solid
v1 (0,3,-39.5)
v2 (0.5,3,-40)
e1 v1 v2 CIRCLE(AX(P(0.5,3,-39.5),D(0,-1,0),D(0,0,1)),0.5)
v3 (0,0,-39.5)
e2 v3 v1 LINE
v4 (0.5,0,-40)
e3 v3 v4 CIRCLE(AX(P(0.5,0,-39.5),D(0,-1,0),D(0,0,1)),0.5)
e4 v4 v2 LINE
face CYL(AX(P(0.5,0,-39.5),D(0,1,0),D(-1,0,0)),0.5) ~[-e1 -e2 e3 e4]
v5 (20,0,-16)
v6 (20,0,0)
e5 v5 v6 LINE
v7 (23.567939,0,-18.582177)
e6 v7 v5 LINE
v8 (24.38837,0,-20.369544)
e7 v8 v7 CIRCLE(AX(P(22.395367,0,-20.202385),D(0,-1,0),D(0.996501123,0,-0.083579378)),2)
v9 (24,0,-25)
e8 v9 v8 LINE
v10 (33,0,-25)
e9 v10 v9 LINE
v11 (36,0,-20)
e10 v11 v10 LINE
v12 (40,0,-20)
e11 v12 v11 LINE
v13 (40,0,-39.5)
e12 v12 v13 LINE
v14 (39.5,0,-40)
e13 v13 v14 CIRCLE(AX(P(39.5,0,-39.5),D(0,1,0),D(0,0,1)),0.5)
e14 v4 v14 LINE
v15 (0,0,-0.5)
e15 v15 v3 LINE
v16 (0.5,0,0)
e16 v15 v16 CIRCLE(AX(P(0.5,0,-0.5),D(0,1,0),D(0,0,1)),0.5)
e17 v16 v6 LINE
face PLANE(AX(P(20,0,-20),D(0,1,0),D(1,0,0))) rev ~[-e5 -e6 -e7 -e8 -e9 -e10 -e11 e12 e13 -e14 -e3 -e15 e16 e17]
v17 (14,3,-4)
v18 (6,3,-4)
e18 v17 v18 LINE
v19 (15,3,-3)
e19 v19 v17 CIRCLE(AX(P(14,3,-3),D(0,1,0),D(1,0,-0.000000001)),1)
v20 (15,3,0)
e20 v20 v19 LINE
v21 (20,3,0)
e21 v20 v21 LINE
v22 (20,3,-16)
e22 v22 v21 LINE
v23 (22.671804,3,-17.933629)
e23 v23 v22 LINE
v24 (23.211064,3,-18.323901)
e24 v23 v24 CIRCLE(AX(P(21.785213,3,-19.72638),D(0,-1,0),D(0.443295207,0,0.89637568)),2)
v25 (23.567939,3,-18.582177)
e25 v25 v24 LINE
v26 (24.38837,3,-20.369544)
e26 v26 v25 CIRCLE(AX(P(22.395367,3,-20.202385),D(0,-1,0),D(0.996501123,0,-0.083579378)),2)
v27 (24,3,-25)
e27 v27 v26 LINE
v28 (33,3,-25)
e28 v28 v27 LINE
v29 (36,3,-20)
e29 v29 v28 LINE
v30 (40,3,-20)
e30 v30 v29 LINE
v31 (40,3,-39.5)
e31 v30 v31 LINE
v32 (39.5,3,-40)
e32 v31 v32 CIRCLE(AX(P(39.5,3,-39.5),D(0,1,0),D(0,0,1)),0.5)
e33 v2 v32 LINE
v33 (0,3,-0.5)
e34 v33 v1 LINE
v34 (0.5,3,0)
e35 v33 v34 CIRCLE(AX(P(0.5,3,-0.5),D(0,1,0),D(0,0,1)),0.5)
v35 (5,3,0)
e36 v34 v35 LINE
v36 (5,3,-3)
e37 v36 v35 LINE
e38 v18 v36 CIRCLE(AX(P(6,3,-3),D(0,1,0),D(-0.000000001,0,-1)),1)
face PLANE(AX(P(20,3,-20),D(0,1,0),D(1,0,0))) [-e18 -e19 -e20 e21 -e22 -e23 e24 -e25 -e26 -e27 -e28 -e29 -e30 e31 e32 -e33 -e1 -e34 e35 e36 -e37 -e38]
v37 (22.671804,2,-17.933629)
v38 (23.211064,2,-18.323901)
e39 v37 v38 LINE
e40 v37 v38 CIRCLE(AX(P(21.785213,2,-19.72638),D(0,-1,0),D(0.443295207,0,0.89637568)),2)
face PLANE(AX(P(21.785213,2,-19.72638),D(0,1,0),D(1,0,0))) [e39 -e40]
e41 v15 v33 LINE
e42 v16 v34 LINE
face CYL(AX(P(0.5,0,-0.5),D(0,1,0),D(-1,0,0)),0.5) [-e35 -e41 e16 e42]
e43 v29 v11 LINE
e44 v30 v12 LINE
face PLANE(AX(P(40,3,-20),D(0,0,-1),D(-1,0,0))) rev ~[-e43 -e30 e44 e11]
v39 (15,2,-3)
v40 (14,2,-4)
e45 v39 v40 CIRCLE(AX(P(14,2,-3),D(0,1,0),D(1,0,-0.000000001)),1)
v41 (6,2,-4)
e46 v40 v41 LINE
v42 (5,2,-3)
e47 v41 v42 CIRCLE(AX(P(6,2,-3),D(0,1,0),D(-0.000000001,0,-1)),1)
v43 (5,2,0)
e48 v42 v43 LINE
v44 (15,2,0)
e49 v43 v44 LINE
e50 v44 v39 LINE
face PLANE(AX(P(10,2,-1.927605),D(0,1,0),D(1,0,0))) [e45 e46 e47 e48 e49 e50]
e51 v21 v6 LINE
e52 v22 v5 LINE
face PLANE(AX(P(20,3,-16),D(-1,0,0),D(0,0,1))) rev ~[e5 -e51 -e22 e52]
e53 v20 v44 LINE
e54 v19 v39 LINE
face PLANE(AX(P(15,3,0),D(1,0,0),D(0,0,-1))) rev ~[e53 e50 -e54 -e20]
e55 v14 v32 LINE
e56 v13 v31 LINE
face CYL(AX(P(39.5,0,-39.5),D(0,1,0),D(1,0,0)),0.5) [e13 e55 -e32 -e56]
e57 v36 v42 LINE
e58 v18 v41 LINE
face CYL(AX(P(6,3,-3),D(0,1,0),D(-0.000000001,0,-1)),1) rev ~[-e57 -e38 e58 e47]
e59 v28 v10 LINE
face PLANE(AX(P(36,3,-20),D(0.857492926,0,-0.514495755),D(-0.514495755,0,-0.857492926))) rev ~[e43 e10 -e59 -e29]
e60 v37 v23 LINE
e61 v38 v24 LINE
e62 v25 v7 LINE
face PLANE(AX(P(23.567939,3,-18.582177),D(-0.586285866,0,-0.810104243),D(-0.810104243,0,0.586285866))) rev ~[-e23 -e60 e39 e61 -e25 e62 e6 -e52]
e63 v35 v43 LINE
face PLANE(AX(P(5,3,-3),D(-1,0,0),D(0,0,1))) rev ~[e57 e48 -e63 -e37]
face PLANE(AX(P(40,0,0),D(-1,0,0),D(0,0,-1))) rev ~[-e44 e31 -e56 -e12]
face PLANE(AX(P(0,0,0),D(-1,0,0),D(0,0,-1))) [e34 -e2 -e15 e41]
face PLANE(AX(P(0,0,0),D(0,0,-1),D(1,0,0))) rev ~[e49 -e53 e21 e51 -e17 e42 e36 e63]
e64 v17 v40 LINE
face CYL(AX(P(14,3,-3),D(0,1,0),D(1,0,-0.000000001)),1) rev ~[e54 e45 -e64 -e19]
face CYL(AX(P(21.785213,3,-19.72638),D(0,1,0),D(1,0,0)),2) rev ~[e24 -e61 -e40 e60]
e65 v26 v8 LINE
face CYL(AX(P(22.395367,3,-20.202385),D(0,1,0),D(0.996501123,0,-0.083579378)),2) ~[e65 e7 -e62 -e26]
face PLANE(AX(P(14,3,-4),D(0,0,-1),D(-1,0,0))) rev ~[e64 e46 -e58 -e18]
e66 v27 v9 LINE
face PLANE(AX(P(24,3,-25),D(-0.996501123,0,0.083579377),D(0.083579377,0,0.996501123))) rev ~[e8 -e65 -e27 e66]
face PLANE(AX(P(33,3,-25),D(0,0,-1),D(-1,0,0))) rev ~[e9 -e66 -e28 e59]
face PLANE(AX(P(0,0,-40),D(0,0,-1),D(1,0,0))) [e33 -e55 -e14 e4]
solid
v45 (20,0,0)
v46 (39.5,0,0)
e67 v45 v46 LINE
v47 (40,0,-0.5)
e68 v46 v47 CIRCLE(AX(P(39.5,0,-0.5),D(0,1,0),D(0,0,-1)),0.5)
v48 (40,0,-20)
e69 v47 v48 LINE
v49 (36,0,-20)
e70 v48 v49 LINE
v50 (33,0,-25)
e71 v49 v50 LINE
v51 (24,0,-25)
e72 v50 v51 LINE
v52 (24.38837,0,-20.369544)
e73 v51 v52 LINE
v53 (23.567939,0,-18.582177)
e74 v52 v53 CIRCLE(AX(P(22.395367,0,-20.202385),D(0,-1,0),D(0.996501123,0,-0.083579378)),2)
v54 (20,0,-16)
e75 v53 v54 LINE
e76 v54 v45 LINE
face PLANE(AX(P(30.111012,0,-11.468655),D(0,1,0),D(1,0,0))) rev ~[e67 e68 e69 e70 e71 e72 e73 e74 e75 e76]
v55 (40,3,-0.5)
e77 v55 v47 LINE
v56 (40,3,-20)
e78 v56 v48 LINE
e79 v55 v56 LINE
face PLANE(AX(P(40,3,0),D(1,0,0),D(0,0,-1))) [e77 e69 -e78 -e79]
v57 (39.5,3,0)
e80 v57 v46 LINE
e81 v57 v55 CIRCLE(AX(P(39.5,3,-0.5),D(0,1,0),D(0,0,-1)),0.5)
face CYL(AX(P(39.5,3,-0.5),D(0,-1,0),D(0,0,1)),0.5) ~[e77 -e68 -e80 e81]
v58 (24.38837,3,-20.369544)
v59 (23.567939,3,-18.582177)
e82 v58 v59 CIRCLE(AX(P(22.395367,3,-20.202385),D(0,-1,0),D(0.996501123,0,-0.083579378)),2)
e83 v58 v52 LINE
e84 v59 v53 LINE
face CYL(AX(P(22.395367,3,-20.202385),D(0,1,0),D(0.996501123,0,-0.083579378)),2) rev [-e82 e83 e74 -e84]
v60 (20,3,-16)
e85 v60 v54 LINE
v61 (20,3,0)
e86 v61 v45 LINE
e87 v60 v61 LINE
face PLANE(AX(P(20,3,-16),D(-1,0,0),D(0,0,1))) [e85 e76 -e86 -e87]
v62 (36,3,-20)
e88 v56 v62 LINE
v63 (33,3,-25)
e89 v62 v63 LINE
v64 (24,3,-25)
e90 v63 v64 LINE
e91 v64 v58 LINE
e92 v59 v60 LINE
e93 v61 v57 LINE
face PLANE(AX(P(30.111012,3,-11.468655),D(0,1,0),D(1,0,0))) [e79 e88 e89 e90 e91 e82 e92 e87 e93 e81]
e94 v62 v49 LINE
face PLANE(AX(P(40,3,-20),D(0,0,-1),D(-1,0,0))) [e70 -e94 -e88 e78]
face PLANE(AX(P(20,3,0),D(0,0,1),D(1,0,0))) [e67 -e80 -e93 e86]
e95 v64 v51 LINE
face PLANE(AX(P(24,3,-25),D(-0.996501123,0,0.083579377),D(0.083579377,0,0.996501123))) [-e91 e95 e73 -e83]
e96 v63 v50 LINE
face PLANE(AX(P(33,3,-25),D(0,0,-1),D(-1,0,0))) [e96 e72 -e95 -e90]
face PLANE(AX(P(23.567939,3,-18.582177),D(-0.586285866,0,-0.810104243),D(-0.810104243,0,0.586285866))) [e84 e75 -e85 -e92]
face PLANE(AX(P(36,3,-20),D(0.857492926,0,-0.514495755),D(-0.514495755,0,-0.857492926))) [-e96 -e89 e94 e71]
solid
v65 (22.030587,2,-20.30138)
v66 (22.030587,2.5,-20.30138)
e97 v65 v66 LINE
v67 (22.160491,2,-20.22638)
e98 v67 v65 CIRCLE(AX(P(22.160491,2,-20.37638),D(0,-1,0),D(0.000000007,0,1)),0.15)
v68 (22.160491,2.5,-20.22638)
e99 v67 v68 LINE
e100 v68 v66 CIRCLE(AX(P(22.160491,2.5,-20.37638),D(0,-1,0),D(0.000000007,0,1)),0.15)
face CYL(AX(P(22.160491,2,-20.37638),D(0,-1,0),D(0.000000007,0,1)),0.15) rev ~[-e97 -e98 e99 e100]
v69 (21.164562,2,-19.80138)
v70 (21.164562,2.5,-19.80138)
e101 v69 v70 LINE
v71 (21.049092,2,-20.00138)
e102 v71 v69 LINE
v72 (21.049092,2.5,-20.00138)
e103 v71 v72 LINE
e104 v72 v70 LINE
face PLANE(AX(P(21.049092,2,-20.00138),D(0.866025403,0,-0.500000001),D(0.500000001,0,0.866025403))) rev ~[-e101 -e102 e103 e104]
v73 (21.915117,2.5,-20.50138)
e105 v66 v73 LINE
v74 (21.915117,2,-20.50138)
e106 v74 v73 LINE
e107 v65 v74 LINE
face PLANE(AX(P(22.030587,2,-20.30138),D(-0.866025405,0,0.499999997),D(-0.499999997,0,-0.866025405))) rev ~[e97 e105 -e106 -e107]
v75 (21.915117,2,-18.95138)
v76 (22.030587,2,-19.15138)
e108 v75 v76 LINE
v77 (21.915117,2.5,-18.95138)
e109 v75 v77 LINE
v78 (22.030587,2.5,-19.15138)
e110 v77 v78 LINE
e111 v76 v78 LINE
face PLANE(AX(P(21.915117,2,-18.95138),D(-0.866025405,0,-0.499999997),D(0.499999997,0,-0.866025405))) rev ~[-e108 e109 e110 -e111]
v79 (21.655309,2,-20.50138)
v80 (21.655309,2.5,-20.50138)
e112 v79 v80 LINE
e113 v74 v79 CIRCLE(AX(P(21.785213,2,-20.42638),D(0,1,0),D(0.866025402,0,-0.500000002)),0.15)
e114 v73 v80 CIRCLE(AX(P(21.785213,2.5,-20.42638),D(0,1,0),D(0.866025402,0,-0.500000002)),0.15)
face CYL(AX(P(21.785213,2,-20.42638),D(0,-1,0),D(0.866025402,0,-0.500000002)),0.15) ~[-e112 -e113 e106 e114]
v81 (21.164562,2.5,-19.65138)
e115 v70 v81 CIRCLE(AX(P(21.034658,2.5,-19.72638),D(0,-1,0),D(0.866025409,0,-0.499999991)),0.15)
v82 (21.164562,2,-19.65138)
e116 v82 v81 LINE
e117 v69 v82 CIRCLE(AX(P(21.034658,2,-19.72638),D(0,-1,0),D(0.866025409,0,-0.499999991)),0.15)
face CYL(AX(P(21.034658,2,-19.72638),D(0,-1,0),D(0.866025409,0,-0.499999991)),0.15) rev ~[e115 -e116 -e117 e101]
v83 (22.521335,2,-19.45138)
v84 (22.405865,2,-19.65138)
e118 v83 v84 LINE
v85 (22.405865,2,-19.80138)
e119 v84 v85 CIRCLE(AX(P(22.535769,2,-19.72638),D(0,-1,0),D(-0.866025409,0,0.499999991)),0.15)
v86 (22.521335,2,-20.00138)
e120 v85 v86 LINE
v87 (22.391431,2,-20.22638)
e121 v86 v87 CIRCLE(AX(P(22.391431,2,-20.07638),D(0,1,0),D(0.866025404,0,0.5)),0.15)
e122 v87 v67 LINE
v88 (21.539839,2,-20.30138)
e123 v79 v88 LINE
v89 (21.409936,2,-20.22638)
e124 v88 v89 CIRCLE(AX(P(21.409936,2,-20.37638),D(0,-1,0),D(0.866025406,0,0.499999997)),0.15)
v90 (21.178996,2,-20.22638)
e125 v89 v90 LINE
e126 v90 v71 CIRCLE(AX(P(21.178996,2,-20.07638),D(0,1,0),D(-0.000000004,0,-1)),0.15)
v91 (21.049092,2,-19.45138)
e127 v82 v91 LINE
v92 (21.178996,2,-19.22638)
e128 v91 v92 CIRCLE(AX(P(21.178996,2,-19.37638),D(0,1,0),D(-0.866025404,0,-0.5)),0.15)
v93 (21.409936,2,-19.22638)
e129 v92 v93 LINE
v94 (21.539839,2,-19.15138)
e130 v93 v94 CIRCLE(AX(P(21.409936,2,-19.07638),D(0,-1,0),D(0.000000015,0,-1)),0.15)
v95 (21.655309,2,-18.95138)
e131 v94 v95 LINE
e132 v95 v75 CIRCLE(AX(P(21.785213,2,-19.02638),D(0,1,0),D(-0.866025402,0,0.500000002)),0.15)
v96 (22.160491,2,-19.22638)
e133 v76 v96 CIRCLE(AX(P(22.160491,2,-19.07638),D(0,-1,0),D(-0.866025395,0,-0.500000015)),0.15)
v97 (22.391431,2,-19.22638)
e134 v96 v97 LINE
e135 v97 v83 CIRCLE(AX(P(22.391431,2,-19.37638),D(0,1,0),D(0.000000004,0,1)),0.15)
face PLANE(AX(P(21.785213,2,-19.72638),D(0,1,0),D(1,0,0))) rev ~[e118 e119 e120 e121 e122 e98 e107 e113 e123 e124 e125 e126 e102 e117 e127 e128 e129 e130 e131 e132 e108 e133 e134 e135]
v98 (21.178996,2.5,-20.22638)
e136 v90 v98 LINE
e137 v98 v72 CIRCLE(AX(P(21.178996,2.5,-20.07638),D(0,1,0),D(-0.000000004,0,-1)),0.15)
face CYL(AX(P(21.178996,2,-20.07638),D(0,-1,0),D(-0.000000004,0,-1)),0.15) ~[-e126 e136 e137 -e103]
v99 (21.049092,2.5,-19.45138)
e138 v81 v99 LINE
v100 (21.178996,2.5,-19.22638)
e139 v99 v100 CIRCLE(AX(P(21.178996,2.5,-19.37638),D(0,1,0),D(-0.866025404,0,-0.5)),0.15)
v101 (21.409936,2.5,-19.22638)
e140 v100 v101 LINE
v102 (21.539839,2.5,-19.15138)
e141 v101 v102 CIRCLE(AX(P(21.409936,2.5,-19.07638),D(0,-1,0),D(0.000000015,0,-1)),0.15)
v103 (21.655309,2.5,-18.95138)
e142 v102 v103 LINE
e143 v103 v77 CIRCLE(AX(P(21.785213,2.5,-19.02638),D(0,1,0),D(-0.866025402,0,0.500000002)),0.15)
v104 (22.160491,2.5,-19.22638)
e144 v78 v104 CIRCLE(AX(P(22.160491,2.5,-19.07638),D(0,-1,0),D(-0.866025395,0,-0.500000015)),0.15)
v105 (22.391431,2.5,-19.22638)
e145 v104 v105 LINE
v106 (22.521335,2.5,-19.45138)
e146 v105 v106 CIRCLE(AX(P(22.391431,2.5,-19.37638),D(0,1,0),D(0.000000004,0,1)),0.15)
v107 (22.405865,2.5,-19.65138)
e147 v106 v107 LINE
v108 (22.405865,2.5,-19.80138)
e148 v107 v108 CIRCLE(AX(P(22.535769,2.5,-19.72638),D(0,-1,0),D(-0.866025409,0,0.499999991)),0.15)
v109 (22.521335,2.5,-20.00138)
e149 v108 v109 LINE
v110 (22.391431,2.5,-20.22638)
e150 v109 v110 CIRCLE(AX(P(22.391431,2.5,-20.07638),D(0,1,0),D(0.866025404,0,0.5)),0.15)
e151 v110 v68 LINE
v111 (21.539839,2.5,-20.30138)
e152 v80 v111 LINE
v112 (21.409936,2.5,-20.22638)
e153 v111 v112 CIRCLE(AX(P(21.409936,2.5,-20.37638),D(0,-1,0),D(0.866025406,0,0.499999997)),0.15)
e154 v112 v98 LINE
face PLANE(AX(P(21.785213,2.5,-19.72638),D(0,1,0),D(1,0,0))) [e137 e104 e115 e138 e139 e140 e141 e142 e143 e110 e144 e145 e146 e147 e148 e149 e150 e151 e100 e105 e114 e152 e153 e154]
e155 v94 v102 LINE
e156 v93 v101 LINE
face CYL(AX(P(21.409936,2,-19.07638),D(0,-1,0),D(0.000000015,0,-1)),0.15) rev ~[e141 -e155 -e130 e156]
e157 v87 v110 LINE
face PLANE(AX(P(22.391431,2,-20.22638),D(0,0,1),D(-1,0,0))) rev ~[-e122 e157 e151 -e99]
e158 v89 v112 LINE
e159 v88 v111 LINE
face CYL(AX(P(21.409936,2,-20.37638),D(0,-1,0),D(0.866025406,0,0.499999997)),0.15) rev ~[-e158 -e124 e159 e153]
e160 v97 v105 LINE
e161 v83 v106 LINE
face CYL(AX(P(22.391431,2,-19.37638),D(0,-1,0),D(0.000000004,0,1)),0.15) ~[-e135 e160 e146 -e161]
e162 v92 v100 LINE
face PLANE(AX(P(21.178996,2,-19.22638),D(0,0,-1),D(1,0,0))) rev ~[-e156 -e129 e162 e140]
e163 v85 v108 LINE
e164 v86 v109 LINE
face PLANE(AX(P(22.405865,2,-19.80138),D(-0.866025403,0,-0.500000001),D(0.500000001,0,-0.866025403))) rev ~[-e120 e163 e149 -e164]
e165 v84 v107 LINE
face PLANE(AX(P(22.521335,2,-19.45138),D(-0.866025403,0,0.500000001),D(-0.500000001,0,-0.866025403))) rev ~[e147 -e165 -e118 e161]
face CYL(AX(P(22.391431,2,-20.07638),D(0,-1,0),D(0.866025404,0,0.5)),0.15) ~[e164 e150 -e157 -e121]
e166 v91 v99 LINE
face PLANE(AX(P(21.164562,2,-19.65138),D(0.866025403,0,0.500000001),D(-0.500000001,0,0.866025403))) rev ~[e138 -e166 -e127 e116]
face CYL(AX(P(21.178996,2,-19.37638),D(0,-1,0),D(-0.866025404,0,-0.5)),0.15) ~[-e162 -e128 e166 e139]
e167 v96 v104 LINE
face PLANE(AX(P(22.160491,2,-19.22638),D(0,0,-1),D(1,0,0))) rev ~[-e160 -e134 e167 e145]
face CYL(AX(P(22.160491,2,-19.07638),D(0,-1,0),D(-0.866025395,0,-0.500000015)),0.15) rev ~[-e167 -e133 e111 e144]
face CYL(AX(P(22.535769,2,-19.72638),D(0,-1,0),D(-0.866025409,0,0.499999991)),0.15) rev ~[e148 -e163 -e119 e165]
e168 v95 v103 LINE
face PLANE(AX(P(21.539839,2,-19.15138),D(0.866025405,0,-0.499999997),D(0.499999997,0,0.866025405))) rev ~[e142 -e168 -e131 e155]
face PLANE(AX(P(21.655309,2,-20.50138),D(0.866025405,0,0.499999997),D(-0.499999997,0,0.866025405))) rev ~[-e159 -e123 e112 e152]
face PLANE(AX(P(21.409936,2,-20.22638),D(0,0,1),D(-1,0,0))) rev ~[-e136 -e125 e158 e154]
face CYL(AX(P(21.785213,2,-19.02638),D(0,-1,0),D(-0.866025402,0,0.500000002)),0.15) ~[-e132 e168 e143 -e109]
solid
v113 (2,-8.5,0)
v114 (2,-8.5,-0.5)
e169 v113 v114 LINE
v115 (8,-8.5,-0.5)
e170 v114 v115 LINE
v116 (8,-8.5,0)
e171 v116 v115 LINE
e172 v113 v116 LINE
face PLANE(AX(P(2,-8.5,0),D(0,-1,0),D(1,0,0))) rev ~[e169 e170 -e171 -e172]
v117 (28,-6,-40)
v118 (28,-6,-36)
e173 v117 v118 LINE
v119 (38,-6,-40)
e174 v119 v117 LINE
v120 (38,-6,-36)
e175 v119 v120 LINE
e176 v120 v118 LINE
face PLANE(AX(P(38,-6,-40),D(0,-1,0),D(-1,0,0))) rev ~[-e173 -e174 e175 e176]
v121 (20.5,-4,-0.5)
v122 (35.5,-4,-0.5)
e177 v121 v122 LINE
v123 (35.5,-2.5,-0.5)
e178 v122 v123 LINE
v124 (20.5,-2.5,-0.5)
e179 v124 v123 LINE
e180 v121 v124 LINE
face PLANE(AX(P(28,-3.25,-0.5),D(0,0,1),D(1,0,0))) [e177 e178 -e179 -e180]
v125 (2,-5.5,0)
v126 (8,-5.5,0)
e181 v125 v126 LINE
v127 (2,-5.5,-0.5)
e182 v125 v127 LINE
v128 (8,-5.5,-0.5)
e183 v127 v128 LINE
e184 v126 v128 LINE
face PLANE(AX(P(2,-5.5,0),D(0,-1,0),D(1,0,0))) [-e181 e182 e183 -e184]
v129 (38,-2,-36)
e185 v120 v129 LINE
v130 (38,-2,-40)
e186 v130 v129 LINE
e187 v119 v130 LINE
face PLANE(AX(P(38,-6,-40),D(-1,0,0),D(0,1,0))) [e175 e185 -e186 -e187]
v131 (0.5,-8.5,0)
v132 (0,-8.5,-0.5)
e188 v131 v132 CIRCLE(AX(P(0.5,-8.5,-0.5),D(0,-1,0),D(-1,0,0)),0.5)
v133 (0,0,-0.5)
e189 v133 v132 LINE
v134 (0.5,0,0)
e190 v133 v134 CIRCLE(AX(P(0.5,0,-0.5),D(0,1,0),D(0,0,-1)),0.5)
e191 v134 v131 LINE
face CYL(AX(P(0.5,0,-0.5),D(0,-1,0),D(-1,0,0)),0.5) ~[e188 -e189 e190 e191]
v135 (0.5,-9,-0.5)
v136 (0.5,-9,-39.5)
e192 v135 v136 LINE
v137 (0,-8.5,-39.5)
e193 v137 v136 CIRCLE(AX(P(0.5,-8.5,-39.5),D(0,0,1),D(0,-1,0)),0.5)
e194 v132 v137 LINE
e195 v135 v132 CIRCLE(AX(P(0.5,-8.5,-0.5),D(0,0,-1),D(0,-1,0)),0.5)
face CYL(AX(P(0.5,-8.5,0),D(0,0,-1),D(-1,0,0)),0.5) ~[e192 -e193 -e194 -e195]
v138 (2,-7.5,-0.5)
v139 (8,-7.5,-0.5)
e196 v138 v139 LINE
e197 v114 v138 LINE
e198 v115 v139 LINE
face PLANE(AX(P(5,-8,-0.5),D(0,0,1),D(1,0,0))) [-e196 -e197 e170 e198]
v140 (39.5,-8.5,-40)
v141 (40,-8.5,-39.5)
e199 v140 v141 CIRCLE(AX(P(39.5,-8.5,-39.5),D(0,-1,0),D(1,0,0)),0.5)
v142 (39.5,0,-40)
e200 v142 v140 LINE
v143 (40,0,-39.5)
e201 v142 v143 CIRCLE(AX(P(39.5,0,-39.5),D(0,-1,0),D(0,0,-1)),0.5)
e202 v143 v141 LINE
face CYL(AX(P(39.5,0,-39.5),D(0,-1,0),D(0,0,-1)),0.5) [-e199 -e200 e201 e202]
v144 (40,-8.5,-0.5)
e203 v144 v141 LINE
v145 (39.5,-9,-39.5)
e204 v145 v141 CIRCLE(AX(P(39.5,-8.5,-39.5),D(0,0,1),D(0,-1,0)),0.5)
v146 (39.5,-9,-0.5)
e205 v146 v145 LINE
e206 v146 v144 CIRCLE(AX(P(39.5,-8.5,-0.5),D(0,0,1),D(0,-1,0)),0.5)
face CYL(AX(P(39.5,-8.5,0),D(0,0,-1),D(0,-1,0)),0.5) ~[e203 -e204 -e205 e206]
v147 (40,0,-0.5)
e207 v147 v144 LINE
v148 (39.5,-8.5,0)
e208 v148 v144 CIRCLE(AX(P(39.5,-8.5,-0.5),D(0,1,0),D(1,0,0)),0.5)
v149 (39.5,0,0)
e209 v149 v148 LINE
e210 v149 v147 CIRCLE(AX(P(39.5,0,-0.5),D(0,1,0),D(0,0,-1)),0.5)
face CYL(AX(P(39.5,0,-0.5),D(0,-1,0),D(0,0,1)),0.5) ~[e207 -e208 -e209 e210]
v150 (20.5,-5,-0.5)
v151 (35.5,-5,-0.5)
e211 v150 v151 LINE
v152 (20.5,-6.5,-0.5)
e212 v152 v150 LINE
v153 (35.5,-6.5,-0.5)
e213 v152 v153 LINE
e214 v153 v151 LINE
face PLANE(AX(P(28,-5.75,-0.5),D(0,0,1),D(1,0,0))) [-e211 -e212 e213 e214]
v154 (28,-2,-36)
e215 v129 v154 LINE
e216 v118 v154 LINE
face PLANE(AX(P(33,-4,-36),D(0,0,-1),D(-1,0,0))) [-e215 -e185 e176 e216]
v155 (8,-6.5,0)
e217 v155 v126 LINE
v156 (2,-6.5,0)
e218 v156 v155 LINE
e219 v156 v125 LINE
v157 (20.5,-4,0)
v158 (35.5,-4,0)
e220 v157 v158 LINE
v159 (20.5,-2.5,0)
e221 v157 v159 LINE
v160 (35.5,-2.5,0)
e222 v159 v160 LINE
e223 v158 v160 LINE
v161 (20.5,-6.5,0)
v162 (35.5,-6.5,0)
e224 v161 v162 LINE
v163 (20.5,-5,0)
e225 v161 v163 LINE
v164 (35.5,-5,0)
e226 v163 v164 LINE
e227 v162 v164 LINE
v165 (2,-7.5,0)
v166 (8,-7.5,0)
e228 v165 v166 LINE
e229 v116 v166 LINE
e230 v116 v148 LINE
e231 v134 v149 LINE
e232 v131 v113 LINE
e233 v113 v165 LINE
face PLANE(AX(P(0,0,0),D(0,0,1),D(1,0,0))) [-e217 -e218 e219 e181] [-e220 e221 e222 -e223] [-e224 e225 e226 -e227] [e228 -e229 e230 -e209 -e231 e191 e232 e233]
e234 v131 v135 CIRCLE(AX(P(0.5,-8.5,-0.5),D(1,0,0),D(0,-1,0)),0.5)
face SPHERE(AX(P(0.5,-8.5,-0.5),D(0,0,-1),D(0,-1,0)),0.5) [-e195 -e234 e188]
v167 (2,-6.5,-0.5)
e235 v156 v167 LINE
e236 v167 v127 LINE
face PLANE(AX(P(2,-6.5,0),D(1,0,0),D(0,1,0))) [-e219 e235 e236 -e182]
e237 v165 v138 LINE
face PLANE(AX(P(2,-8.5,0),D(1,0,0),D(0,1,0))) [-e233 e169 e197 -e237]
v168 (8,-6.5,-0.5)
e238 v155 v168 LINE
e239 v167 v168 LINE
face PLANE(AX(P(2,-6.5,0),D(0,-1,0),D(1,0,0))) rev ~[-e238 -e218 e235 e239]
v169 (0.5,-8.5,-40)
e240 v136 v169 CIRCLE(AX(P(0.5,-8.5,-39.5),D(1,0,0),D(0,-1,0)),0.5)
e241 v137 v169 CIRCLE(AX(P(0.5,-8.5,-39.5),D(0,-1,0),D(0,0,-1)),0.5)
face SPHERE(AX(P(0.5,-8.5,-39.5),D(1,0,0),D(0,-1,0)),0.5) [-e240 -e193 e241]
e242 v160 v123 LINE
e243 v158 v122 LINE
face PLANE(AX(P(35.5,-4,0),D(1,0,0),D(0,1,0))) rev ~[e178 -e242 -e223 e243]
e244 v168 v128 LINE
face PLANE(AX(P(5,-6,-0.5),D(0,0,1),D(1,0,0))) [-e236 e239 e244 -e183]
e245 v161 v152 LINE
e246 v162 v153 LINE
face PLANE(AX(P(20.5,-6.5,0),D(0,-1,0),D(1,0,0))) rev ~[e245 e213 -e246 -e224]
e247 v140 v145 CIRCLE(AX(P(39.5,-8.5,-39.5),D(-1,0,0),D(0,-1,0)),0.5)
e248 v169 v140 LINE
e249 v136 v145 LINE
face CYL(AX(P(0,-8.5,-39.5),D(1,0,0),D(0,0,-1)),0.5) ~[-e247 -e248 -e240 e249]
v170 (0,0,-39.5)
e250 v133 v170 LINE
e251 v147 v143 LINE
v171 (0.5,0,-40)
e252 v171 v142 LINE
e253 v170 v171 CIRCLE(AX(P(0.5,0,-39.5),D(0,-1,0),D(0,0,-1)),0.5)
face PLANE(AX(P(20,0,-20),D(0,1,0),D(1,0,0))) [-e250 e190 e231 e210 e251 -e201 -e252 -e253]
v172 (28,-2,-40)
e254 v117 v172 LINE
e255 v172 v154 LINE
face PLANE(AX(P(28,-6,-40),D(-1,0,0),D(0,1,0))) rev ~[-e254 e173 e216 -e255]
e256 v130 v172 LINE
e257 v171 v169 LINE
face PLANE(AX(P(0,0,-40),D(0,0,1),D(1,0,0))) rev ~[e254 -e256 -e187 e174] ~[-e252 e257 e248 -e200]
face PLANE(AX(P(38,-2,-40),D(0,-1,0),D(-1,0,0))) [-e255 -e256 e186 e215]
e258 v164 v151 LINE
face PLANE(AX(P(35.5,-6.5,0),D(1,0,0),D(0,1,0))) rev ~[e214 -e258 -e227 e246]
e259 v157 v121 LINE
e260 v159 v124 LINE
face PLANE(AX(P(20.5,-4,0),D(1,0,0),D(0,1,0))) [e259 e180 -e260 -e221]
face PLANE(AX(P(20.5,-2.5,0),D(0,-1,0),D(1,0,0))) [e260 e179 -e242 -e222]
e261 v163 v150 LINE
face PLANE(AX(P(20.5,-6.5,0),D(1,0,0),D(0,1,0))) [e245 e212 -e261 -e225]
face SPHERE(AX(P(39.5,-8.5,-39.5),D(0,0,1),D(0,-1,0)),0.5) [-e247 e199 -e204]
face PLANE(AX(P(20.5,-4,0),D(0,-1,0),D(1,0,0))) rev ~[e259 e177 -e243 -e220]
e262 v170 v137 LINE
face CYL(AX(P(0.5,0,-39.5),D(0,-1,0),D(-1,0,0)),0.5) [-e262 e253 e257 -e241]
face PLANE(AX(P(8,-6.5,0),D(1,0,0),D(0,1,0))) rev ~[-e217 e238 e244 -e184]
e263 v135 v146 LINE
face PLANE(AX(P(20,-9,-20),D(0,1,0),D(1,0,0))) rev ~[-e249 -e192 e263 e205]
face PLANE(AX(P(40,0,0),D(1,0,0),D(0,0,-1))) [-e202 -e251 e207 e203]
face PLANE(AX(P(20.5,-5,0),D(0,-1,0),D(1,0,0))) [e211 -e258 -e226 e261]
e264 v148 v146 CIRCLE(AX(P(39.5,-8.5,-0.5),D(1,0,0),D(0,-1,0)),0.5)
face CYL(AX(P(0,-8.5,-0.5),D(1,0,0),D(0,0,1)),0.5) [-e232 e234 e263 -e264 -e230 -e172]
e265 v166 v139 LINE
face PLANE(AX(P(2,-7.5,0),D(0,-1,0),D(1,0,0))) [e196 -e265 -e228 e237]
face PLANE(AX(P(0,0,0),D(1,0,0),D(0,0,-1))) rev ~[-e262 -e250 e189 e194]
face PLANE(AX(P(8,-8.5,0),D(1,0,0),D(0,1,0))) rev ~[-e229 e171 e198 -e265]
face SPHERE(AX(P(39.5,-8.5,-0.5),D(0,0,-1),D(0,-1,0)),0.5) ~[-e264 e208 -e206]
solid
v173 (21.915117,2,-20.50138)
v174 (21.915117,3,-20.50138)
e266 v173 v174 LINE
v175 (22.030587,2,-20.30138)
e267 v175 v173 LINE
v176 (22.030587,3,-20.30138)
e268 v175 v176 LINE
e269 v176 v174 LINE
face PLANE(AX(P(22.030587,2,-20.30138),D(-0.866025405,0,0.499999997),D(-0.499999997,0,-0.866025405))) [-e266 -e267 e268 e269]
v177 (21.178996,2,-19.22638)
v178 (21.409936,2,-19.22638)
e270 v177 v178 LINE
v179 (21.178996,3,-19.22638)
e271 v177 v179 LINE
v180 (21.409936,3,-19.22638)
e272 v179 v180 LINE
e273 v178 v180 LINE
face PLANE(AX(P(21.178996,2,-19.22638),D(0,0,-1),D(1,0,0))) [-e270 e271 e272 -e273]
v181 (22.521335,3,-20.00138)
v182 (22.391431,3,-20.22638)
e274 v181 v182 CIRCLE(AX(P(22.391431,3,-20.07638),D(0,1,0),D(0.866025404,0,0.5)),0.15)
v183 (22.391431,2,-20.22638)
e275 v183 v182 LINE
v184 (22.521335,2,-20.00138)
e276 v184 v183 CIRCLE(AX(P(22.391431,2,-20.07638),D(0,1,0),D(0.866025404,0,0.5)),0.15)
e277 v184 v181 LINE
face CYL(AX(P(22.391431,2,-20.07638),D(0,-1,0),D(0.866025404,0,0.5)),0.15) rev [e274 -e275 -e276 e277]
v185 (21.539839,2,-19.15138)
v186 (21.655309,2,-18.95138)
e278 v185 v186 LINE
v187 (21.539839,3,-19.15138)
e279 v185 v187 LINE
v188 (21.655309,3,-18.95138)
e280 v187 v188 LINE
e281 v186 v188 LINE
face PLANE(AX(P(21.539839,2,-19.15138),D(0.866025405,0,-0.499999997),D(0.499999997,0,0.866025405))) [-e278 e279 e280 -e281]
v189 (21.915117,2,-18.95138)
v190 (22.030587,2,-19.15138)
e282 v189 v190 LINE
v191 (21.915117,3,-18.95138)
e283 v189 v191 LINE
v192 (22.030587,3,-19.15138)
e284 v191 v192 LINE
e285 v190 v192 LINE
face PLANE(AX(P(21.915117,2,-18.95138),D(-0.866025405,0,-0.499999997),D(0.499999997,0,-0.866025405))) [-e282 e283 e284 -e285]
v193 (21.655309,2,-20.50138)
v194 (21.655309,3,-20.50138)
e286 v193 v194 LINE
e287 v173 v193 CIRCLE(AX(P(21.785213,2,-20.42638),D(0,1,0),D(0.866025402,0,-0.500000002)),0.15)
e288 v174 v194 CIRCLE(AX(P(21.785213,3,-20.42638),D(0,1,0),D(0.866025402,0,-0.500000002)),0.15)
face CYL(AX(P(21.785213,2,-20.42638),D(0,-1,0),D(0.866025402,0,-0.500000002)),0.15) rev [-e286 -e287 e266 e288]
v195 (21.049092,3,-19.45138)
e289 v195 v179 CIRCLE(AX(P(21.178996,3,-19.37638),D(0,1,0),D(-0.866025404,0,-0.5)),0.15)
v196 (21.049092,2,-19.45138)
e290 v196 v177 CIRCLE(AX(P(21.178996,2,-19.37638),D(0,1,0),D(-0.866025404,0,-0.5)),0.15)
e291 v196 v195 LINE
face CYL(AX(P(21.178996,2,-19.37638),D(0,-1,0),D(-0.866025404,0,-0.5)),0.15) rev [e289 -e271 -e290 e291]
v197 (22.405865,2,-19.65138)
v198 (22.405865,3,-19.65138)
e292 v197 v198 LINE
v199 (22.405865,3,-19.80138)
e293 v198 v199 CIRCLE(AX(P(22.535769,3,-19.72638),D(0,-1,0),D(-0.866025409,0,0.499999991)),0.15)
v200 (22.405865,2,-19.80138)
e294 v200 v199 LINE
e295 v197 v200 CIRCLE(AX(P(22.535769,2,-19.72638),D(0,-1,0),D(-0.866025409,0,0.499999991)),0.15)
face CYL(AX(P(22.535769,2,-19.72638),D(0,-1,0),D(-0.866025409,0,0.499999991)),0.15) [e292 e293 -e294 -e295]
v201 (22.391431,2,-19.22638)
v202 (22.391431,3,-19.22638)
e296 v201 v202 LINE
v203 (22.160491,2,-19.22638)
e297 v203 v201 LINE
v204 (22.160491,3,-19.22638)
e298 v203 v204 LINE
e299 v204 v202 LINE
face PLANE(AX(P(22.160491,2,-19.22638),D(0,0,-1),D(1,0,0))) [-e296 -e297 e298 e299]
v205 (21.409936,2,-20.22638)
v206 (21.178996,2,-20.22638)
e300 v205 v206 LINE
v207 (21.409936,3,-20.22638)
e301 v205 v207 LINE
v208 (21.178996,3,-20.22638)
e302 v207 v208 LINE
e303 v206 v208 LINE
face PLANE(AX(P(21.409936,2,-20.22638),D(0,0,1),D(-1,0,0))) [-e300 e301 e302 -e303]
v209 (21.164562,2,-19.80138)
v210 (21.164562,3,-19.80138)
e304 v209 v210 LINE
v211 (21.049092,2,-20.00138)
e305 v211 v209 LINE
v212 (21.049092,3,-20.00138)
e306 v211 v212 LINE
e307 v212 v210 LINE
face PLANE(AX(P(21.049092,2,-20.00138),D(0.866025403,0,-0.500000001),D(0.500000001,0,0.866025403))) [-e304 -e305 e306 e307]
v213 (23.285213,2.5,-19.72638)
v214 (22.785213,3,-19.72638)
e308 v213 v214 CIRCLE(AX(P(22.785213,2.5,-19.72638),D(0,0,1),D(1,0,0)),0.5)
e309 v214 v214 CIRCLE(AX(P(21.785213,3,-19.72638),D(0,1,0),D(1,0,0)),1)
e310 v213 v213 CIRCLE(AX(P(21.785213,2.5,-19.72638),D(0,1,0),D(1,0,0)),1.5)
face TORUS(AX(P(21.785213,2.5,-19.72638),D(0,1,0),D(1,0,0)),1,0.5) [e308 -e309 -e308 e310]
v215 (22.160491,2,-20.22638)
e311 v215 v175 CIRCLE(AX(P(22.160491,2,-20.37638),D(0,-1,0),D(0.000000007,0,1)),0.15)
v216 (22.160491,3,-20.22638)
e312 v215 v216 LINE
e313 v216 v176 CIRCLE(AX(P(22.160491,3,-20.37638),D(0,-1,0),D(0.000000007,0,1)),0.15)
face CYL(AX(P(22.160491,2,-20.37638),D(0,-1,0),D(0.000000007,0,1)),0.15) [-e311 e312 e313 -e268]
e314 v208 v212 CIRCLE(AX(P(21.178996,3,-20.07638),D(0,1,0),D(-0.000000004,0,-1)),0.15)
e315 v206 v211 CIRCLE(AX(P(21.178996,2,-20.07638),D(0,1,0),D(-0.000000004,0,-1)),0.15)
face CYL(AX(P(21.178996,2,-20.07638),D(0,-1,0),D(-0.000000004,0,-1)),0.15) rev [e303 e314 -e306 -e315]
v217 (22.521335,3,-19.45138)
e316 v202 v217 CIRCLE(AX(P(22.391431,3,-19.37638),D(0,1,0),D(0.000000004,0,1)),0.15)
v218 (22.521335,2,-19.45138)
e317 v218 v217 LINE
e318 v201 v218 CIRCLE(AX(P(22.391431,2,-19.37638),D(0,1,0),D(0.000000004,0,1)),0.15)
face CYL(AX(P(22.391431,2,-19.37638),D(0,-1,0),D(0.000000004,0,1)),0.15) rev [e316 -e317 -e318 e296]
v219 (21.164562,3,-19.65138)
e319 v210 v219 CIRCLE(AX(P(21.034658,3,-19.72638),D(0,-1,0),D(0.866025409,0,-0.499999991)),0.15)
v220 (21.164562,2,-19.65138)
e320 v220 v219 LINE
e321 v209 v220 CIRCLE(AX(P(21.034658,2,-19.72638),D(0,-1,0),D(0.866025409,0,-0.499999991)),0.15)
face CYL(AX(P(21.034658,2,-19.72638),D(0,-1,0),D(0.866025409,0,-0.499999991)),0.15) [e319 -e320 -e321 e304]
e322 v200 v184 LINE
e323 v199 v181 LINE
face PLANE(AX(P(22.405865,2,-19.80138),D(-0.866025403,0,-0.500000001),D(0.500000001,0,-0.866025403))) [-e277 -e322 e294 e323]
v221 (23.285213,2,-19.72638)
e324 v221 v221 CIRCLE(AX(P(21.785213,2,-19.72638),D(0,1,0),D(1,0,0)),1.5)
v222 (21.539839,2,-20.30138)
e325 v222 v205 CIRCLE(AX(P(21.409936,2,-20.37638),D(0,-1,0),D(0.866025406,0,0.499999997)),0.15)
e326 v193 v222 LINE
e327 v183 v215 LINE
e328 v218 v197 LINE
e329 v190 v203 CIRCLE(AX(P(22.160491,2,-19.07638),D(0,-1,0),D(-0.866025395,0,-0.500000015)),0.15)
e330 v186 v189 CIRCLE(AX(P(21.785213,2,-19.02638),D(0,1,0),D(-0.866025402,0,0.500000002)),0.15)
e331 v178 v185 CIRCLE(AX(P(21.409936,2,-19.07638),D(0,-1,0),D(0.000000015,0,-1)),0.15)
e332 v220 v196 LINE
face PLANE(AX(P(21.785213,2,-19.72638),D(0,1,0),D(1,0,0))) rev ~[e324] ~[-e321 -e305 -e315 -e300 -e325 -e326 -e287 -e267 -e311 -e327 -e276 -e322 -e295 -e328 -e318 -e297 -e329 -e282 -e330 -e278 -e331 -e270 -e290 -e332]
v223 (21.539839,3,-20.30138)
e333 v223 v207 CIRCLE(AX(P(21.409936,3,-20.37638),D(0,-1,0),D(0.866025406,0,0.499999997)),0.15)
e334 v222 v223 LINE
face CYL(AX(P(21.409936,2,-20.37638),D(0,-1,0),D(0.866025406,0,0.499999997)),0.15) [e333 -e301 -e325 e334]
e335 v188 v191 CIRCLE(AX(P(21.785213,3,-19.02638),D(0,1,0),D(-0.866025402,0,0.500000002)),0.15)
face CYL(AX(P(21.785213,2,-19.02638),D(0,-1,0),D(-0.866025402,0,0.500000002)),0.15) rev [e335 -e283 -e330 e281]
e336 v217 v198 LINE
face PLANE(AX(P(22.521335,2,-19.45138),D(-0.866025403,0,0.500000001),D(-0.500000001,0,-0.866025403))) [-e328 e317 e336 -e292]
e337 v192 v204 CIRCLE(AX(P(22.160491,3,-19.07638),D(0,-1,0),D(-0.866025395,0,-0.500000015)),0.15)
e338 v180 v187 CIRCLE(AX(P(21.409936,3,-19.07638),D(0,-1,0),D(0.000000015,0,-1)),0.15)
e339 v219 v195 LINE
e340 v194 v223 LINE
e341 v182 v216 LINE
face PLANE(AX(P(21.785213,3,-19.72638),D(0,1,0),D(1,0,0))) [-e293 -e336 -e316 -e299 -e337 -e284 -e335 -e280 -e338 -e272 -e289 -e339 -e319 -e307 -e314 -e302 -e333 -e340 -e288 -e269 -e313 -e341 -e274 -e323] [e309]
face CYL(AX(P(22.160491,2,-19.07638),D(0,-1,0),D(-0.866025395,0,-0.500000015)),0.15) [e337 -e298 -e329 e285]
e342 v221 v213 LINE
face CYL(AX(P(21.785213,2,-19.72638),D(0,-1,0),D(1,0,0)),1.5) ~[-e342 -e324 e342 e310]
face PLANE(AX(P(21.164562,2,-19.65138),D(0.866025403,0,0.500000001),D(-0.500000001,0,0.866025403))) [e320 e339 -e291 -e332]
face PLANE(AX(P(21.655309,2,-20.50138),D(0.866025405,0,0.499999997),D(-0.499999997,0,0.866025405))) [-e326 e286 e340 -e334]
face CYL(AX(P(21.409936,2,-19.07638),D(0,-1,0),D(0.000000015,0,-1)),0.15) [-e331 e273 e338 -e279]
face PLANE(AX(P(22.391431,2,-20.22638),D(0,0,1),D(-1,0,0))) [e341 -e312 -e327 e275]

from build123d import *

# Parameters (mm, degrees)
SKETCH1_W           = 40
SKETCH1_H           = 40
BOSS_EXTRUDE1_DEPTH = 9
SKETCH1_2_W         = 40
SKETCH1_2_H         = 40
BOSS_EXTRUDE2_DEPTH = 3
SKETCH2_W           = 10
SKETCH2_H           = 4
CUT_EXTRUDE1_DEPTH  = 4
CUT_EXTRUDE3_DEPTH  = 3
BOSS_EXTRUDE4_DEPTH = 3
SKETCH4_R           = 2
CUT_EXTRUDE4_DEPTH  = 1
SKETCH5_R           = 1.5
BOSS_EXTRUDE6_DEPTH = 1
BOSS_EXTRUDE7_DEPTH = 0.5
FILLET1_R           = 0.5
FILLET2_R           = 0.5
FILLET3_R           = 0.5
FILLET4_R           = 0.5
SKETCH6_W           = 6
SKETCH6_H           = 1
SKETCH6_W_2         = 15
SKETCH6_H_2         = 1.5
CUT_EXTRUDE5_DEPTH  = 0.5


with BuildPart() as part:
    # Sketch1 → Boss-Extrude1 (new body)
    with BuildSketch(Plane(origin=(0, 0, 0), x_dir=(1, 0, 0), z_dir=(0, 1, 0))):
        with Locations((20, 20)):
            Rectangle(SKETCH1_W, SKETCH1_H)
    extrude(amount=-BOSS_EXTRUDE1_DEPTH)

    # Sketch2 → Cut-Extrude1 (cut)
    with BuildSketch(Plane(origin=(0, 0, -40), x_dir=(-1, 0, 0), z_dir=(0, 0, -1))):
        with Locations((-33, -4)):
            Rectangle(SKETCH2_W, SKETCH2_H)
    extrude(amount=-CUT_EXTRUDE1_DEPTH, mode=Mode.SUBTRACT)

    # Fillet3
    fillet3_edges = [part.edges().sort_by_distance(p)[0] for p in [
        (40, -9, -20),
        (20, -9, -40),
        (0, -9, -20),
        (20, -9, 0),
        (0, -4.5, -40),
        (40, -4.5, -40),
        (40, -4.5, 0),
        (0, -4.5, 0),
    ]]
    fillet(fillet3_edges, radius=FILLET3_R)

    # Sketch6 → Cut-Extrude5 (cut)
    with BuildSketch(Plane.XY):
        with Locations((5, -8)):
            Rectangle(SKETCH6_W, SKETCH6_H)
        with Locations((5, -6)):
            Rectangle(SKETCH6_W, SKETCH6_H)
        with Locations((28, -3.25)):
            Rectangle(SKETCH6_W_2, SKETCH6_H_2)
        with Locations((28, -5.75)):
            Rectangle(SKETCH6_W_2, SKETCH6_H_2)
    extrude(amount=-CUT_EXTRUDE5_DEPTH, mode=Mode.SUBTRACT)


with BuildPart() as body_2:
    # Sketch1<2> → Boss-Extrude2 (new body)
    with BuildSketch(Plane(origin=(0, 0, 0), x_dir=(1, 0, 0), z_dir=(0, 1, 0))):
        with Locations((20, 20)):
            Rectangle(SKETCH1_2_W, SKETCH1_2_H)
    extrude(amount=BOSS_EXTRUDE2_DEPTH)

    # Sketch3 → Cut-Extrude3 (cut)
    with BuildSketch(Plane(origin=(0, 3, 0), x_dir=(1, 0, 0), z_dir=(0, 1, 0))):
        with BuildLine():
            Line((20, 0), (40, 0))
            Line((40, 0), (40, 20))
            Line((40, 20), (36, 20))
            Line((36, 20), (33, 25))
            Line((33, 25), (24, 25))
            Line((24, 25), (24.388369501, 20.369543813))
            ThreePointArc((24.388369501, 20.369543813), (24.213026482, 19.368050032), (23.567938987, 18.582176574))
            Line((23.567938987, 18.582176574), (20, 16))
            Line((20, 16), (20, 0))
        make_face()
    extrude(amount=-CUT_EXTRUDE3_DEPTH, mode=Mode.SUBTRACT)

    # Sketch4 → Cut-Extrude4 (cut)
    with BuildSketch(Plane(origin=(0, 3, 0), x_dir=(1, 0, 0), z_dir=(0, 1, 0))):
        with Locations((21.785213292, 19.72637998)):
            Circle(SKETCH4_R)
        with BuildLine():
            Line((5, 0), (15, 0))
            Line((15, 0), (15, 3))
            ThreePointArc((15, 3), (14.707106781, 3.707106781), (14, 4))
            Line((14, 4), (6, 4))
            ThreePointArc((6, 4), (5.292893219, 3.707106781), (5, 3))
            Line((5, 3), (5, 0))
        make_face()
    extrude(amount=-CUT_EXTRUDE4_DEPTH, mode=Mode.SUBTRACT)

    # Fillet2
    fillet2_edges = [body_2.edges().sort_by_distance(p)[0] for p in [
        (0, 1.5, -40),
        (40, 1.5, -40),
        (0, 1.5, 0),
    ]]
    fillet(fillet2_edges, radius=FILLET2_R)


with BuildPart() as body_3:
    # Sketch3<3> → Boss-Extrude4 (new body)
    with BuildSketch(Plane(origin=(0, 3, 0), x_dir=(1, 0, 0), z_dir=(0, 1, 0))):
        with BuildLine():
            Line((20, 0), (40, 0))
            Line((40, 0), (40, 20))
            Line((40, 20), (36, 20))
            Line((36, 20), (33, 25))
            Line((33, 25), (24, 25))
            Line((24, 25), (24.388369501, 20.369543813))
            ThreePointArc((24.388369501, 20.369543813), (24.213026482, 19.368050032), (23.567938987, 18.582176574))
            Line((23.567938987, 18.582176574), (20, 16))
            Line((20, 16), (20, 0))
        make_face()
    extrude(amount=-BOSS_EXTRUDE4_DEPTH)

    # Fillet4
    fillet4_edges = [body_3.edges().sort_by_distance(p)[0] for p in [
        (40, 1.5, 0),
    ]]
    fillet(fillet4_edges, radius=FILLET4_R)


with BuildPart() as body_4:
    # Sketch5 → Boss-Extrude6 (new body)
    with BuildSketch(Plane(origin=(0, 2, 0), x_dir=(1, 0, 0), z_dir=(0, 1, 0))):
        with Locations((21.785213292, 19.72637998)):
            Circle(SKETCH5_R)
        with BuildLine():
            Line((21.409935617, 20.22637998), (21.178995509, 20.22637998))
            ThreePointArc((21.178995509, 20.22637998), (21.049091699, 20.15137998), (21.049091699, 20.00137998))
            Line((21.049091699, 20.00137998), (21.164561753, 19.80137998))
            ThreePointArc((21.164561753, 19.80137998), (21.184657942, 19.72637998), (21.164561753, 19.65137998))
            Line((21.164561753, 19.65137998), (21.049091699, 19.45137998))
            ThreePointArc((21.049091699, 19.45137998), (21.049091699, 19.30137998), (21.178995509, 19.22637998))
            Line((21.178995509, 19.22637998), (21.409935617, 19.22637998))
            ThreePointArc((21.409935617, 19.22637998), (21.484935617, 19.20628379), (21.539839428, 19.15137998))
            Line((21.539839428, 19.15137998), (21.655309481, 18.95137998))
            ThreePointArc((21.655309481, 18.95137998), (21.785213292, 18.87637998), (21.915117103, 18.95137998))
            Line((21.915117103, 18.95137998), (22.030587156, 19.15137998))
            ThreePointArc((22.030587156, 19.15137998), (22.085490967, 19.20628379), (22.160490967, 19.22637998))
            Line((22.160490967, 19.22637998), (22.391431075, 19.22637998))
            ThreePointArc((22.391431075, 19.22637998), (22.521334885, 19.30137998), (22.521334885, 19.45137998))
            Line((22.521334885, 19.45137998), (22.405864831, 19.65137998))
            ThreePointArc((22.405864831, 19.65137998), (22.385768642, 19.72637998), (22.405864831, 19.80137998))
            Line((22.405864831, 19.80137998), (22.521334885, 20.00137998))
            ThreePointArc((22.521334885, 20.00137998), (22.521334885, 20.15137998), (22.391431075, 20.22637998))
            Line((22.391431075, 20.22637998), (22.160490967, 20.22637998))
            ThreePointArc((22.160490967, 20.22637998), (22.085490967, 20.246476169), (22.030587156, 20.30137998))
            Line((22.030587156, 20.30137998), (21.915117103, 20.50137998))
            ThreePointArc((21.915117103, 20.50137998), (21.785213292, 20.57637998), (21.655309481, 20.50137998))
            Line((21.655309481, 20.50137998), (21.539839428, 20.30137998))
            ThreePointArc((21.539839428, 20.30137998), (21.484935617, 20.246476169), (21.409935617, 20.22637998))
        make_face(mode=Mode.SUBTRACT)
    extrude(amount=BOSS_EXTRUDE6_DEPTH)

    # Fillet1
    fillet1_edges = [body_4.edges().sort_by_distance(p)[0] for p in [
        (20.285213292, 3, -19.72637998),
    ]]
    fillet(fillet1_edges, radius=FILLET1_R)


with BuildPart() as body_5:
    # Sketch5<2> → Boss-Extrude7 (new body)
    with BuildSketch(Plane(origin=(0, 2, 0), x_dir=(1, 0, 0), z_dir=(0, 1, 0))):
        with BuildLine():
            Line((22.030587156, 20.30137998), (21.915117103, 20.50137998))
            ThreePointArc((21.915117103, 20.50137998), (21.785213292, 20.57637998), (21.655309481, 20.50137998))
            Line((21.655309481, 20.50137998), (21.539839428, 20.30137998))
            ThreePointArc((21.539839428, 20.30137998), (21.484935617, 20.246476169), (21.409935617, 20.22637998))
            Line((21.409935617, 20.22637998), (21.178995509, 20.22637998))
            ThreePointArc((21.178995509, 20.22637998), (21.049091699, 20.15137998), (21.049091699, 20.00137998))
            Line((21.049091699, 20.00137998), (21.164561753, 19.80137998))
            ThreePointArc((21.164561753, 19.80137998), (21.184657942, 19.72637998), (21.164561753, 19.65137998))
            Line((21.164561753, 19.65137998), (21.049091699, 19.45137998))
            ThreePointArc((21.049091699, 19.45137998), (21.049091699, 19.30137998), (21.178995509, 19.22637998))
            Line((21.178995509, 19.22637998), (21.409935617, 19.22637998))
            ThreePointArc((21.409935617, 19.22637998), (21.484935617, 19.20628379), (21.539839428, 19.15137998))
            Line((21.539839428, 19.15137998), (21.655309481, 18.95137998))
            ThreePointArc((21.655309481, 18.95137998), (21.785213292, 18.87637998), (21.915117103, 18.95137998))
            Line((21.915117103, 18.95137998), (22.030587156, 19.15137998))
            ThreePointArc((22.030587156, 19.15137998), (22.085490967, 19.20628379), (22.160490967, 19.22637998))
            Line((22.160490967, 19.22637998), (22.391431075, 19.22637998))
            ThreePointArc((22.391431075, 19.22637998), (22.521334885, 19.30137998), (22.521334885, 19.45137998))
            Line((22.521334885, 19.45137998), (22.405864831, 19.65137998))
            ThreePointArc((22.405864831, 19.65137998), (22.385768642, 19.72637998), (22.405864831, 19.80137998))
            Line((22.405864831, 19.80137998), (22.521334885, 20.00137998))
            ThreePointArc((22.521334885, 20.00137998), (22.521334885, 20.15137998), (22.391431075, 20.22637998))
            Line((22.391431075, 20.22637998), (22.160490967, 20.22637998))
            ThreePointArc((22.160490967, 20.22637998), (22.085490967, 20.246476169), (22.030587156, 20.30137998))
        make_face()
    extrude(amount=BOSS_EXTRUDE7_DEPTH)


solid = Compound([part.part, body_2.part, body_3.part, body_4.part, body_5.part])
